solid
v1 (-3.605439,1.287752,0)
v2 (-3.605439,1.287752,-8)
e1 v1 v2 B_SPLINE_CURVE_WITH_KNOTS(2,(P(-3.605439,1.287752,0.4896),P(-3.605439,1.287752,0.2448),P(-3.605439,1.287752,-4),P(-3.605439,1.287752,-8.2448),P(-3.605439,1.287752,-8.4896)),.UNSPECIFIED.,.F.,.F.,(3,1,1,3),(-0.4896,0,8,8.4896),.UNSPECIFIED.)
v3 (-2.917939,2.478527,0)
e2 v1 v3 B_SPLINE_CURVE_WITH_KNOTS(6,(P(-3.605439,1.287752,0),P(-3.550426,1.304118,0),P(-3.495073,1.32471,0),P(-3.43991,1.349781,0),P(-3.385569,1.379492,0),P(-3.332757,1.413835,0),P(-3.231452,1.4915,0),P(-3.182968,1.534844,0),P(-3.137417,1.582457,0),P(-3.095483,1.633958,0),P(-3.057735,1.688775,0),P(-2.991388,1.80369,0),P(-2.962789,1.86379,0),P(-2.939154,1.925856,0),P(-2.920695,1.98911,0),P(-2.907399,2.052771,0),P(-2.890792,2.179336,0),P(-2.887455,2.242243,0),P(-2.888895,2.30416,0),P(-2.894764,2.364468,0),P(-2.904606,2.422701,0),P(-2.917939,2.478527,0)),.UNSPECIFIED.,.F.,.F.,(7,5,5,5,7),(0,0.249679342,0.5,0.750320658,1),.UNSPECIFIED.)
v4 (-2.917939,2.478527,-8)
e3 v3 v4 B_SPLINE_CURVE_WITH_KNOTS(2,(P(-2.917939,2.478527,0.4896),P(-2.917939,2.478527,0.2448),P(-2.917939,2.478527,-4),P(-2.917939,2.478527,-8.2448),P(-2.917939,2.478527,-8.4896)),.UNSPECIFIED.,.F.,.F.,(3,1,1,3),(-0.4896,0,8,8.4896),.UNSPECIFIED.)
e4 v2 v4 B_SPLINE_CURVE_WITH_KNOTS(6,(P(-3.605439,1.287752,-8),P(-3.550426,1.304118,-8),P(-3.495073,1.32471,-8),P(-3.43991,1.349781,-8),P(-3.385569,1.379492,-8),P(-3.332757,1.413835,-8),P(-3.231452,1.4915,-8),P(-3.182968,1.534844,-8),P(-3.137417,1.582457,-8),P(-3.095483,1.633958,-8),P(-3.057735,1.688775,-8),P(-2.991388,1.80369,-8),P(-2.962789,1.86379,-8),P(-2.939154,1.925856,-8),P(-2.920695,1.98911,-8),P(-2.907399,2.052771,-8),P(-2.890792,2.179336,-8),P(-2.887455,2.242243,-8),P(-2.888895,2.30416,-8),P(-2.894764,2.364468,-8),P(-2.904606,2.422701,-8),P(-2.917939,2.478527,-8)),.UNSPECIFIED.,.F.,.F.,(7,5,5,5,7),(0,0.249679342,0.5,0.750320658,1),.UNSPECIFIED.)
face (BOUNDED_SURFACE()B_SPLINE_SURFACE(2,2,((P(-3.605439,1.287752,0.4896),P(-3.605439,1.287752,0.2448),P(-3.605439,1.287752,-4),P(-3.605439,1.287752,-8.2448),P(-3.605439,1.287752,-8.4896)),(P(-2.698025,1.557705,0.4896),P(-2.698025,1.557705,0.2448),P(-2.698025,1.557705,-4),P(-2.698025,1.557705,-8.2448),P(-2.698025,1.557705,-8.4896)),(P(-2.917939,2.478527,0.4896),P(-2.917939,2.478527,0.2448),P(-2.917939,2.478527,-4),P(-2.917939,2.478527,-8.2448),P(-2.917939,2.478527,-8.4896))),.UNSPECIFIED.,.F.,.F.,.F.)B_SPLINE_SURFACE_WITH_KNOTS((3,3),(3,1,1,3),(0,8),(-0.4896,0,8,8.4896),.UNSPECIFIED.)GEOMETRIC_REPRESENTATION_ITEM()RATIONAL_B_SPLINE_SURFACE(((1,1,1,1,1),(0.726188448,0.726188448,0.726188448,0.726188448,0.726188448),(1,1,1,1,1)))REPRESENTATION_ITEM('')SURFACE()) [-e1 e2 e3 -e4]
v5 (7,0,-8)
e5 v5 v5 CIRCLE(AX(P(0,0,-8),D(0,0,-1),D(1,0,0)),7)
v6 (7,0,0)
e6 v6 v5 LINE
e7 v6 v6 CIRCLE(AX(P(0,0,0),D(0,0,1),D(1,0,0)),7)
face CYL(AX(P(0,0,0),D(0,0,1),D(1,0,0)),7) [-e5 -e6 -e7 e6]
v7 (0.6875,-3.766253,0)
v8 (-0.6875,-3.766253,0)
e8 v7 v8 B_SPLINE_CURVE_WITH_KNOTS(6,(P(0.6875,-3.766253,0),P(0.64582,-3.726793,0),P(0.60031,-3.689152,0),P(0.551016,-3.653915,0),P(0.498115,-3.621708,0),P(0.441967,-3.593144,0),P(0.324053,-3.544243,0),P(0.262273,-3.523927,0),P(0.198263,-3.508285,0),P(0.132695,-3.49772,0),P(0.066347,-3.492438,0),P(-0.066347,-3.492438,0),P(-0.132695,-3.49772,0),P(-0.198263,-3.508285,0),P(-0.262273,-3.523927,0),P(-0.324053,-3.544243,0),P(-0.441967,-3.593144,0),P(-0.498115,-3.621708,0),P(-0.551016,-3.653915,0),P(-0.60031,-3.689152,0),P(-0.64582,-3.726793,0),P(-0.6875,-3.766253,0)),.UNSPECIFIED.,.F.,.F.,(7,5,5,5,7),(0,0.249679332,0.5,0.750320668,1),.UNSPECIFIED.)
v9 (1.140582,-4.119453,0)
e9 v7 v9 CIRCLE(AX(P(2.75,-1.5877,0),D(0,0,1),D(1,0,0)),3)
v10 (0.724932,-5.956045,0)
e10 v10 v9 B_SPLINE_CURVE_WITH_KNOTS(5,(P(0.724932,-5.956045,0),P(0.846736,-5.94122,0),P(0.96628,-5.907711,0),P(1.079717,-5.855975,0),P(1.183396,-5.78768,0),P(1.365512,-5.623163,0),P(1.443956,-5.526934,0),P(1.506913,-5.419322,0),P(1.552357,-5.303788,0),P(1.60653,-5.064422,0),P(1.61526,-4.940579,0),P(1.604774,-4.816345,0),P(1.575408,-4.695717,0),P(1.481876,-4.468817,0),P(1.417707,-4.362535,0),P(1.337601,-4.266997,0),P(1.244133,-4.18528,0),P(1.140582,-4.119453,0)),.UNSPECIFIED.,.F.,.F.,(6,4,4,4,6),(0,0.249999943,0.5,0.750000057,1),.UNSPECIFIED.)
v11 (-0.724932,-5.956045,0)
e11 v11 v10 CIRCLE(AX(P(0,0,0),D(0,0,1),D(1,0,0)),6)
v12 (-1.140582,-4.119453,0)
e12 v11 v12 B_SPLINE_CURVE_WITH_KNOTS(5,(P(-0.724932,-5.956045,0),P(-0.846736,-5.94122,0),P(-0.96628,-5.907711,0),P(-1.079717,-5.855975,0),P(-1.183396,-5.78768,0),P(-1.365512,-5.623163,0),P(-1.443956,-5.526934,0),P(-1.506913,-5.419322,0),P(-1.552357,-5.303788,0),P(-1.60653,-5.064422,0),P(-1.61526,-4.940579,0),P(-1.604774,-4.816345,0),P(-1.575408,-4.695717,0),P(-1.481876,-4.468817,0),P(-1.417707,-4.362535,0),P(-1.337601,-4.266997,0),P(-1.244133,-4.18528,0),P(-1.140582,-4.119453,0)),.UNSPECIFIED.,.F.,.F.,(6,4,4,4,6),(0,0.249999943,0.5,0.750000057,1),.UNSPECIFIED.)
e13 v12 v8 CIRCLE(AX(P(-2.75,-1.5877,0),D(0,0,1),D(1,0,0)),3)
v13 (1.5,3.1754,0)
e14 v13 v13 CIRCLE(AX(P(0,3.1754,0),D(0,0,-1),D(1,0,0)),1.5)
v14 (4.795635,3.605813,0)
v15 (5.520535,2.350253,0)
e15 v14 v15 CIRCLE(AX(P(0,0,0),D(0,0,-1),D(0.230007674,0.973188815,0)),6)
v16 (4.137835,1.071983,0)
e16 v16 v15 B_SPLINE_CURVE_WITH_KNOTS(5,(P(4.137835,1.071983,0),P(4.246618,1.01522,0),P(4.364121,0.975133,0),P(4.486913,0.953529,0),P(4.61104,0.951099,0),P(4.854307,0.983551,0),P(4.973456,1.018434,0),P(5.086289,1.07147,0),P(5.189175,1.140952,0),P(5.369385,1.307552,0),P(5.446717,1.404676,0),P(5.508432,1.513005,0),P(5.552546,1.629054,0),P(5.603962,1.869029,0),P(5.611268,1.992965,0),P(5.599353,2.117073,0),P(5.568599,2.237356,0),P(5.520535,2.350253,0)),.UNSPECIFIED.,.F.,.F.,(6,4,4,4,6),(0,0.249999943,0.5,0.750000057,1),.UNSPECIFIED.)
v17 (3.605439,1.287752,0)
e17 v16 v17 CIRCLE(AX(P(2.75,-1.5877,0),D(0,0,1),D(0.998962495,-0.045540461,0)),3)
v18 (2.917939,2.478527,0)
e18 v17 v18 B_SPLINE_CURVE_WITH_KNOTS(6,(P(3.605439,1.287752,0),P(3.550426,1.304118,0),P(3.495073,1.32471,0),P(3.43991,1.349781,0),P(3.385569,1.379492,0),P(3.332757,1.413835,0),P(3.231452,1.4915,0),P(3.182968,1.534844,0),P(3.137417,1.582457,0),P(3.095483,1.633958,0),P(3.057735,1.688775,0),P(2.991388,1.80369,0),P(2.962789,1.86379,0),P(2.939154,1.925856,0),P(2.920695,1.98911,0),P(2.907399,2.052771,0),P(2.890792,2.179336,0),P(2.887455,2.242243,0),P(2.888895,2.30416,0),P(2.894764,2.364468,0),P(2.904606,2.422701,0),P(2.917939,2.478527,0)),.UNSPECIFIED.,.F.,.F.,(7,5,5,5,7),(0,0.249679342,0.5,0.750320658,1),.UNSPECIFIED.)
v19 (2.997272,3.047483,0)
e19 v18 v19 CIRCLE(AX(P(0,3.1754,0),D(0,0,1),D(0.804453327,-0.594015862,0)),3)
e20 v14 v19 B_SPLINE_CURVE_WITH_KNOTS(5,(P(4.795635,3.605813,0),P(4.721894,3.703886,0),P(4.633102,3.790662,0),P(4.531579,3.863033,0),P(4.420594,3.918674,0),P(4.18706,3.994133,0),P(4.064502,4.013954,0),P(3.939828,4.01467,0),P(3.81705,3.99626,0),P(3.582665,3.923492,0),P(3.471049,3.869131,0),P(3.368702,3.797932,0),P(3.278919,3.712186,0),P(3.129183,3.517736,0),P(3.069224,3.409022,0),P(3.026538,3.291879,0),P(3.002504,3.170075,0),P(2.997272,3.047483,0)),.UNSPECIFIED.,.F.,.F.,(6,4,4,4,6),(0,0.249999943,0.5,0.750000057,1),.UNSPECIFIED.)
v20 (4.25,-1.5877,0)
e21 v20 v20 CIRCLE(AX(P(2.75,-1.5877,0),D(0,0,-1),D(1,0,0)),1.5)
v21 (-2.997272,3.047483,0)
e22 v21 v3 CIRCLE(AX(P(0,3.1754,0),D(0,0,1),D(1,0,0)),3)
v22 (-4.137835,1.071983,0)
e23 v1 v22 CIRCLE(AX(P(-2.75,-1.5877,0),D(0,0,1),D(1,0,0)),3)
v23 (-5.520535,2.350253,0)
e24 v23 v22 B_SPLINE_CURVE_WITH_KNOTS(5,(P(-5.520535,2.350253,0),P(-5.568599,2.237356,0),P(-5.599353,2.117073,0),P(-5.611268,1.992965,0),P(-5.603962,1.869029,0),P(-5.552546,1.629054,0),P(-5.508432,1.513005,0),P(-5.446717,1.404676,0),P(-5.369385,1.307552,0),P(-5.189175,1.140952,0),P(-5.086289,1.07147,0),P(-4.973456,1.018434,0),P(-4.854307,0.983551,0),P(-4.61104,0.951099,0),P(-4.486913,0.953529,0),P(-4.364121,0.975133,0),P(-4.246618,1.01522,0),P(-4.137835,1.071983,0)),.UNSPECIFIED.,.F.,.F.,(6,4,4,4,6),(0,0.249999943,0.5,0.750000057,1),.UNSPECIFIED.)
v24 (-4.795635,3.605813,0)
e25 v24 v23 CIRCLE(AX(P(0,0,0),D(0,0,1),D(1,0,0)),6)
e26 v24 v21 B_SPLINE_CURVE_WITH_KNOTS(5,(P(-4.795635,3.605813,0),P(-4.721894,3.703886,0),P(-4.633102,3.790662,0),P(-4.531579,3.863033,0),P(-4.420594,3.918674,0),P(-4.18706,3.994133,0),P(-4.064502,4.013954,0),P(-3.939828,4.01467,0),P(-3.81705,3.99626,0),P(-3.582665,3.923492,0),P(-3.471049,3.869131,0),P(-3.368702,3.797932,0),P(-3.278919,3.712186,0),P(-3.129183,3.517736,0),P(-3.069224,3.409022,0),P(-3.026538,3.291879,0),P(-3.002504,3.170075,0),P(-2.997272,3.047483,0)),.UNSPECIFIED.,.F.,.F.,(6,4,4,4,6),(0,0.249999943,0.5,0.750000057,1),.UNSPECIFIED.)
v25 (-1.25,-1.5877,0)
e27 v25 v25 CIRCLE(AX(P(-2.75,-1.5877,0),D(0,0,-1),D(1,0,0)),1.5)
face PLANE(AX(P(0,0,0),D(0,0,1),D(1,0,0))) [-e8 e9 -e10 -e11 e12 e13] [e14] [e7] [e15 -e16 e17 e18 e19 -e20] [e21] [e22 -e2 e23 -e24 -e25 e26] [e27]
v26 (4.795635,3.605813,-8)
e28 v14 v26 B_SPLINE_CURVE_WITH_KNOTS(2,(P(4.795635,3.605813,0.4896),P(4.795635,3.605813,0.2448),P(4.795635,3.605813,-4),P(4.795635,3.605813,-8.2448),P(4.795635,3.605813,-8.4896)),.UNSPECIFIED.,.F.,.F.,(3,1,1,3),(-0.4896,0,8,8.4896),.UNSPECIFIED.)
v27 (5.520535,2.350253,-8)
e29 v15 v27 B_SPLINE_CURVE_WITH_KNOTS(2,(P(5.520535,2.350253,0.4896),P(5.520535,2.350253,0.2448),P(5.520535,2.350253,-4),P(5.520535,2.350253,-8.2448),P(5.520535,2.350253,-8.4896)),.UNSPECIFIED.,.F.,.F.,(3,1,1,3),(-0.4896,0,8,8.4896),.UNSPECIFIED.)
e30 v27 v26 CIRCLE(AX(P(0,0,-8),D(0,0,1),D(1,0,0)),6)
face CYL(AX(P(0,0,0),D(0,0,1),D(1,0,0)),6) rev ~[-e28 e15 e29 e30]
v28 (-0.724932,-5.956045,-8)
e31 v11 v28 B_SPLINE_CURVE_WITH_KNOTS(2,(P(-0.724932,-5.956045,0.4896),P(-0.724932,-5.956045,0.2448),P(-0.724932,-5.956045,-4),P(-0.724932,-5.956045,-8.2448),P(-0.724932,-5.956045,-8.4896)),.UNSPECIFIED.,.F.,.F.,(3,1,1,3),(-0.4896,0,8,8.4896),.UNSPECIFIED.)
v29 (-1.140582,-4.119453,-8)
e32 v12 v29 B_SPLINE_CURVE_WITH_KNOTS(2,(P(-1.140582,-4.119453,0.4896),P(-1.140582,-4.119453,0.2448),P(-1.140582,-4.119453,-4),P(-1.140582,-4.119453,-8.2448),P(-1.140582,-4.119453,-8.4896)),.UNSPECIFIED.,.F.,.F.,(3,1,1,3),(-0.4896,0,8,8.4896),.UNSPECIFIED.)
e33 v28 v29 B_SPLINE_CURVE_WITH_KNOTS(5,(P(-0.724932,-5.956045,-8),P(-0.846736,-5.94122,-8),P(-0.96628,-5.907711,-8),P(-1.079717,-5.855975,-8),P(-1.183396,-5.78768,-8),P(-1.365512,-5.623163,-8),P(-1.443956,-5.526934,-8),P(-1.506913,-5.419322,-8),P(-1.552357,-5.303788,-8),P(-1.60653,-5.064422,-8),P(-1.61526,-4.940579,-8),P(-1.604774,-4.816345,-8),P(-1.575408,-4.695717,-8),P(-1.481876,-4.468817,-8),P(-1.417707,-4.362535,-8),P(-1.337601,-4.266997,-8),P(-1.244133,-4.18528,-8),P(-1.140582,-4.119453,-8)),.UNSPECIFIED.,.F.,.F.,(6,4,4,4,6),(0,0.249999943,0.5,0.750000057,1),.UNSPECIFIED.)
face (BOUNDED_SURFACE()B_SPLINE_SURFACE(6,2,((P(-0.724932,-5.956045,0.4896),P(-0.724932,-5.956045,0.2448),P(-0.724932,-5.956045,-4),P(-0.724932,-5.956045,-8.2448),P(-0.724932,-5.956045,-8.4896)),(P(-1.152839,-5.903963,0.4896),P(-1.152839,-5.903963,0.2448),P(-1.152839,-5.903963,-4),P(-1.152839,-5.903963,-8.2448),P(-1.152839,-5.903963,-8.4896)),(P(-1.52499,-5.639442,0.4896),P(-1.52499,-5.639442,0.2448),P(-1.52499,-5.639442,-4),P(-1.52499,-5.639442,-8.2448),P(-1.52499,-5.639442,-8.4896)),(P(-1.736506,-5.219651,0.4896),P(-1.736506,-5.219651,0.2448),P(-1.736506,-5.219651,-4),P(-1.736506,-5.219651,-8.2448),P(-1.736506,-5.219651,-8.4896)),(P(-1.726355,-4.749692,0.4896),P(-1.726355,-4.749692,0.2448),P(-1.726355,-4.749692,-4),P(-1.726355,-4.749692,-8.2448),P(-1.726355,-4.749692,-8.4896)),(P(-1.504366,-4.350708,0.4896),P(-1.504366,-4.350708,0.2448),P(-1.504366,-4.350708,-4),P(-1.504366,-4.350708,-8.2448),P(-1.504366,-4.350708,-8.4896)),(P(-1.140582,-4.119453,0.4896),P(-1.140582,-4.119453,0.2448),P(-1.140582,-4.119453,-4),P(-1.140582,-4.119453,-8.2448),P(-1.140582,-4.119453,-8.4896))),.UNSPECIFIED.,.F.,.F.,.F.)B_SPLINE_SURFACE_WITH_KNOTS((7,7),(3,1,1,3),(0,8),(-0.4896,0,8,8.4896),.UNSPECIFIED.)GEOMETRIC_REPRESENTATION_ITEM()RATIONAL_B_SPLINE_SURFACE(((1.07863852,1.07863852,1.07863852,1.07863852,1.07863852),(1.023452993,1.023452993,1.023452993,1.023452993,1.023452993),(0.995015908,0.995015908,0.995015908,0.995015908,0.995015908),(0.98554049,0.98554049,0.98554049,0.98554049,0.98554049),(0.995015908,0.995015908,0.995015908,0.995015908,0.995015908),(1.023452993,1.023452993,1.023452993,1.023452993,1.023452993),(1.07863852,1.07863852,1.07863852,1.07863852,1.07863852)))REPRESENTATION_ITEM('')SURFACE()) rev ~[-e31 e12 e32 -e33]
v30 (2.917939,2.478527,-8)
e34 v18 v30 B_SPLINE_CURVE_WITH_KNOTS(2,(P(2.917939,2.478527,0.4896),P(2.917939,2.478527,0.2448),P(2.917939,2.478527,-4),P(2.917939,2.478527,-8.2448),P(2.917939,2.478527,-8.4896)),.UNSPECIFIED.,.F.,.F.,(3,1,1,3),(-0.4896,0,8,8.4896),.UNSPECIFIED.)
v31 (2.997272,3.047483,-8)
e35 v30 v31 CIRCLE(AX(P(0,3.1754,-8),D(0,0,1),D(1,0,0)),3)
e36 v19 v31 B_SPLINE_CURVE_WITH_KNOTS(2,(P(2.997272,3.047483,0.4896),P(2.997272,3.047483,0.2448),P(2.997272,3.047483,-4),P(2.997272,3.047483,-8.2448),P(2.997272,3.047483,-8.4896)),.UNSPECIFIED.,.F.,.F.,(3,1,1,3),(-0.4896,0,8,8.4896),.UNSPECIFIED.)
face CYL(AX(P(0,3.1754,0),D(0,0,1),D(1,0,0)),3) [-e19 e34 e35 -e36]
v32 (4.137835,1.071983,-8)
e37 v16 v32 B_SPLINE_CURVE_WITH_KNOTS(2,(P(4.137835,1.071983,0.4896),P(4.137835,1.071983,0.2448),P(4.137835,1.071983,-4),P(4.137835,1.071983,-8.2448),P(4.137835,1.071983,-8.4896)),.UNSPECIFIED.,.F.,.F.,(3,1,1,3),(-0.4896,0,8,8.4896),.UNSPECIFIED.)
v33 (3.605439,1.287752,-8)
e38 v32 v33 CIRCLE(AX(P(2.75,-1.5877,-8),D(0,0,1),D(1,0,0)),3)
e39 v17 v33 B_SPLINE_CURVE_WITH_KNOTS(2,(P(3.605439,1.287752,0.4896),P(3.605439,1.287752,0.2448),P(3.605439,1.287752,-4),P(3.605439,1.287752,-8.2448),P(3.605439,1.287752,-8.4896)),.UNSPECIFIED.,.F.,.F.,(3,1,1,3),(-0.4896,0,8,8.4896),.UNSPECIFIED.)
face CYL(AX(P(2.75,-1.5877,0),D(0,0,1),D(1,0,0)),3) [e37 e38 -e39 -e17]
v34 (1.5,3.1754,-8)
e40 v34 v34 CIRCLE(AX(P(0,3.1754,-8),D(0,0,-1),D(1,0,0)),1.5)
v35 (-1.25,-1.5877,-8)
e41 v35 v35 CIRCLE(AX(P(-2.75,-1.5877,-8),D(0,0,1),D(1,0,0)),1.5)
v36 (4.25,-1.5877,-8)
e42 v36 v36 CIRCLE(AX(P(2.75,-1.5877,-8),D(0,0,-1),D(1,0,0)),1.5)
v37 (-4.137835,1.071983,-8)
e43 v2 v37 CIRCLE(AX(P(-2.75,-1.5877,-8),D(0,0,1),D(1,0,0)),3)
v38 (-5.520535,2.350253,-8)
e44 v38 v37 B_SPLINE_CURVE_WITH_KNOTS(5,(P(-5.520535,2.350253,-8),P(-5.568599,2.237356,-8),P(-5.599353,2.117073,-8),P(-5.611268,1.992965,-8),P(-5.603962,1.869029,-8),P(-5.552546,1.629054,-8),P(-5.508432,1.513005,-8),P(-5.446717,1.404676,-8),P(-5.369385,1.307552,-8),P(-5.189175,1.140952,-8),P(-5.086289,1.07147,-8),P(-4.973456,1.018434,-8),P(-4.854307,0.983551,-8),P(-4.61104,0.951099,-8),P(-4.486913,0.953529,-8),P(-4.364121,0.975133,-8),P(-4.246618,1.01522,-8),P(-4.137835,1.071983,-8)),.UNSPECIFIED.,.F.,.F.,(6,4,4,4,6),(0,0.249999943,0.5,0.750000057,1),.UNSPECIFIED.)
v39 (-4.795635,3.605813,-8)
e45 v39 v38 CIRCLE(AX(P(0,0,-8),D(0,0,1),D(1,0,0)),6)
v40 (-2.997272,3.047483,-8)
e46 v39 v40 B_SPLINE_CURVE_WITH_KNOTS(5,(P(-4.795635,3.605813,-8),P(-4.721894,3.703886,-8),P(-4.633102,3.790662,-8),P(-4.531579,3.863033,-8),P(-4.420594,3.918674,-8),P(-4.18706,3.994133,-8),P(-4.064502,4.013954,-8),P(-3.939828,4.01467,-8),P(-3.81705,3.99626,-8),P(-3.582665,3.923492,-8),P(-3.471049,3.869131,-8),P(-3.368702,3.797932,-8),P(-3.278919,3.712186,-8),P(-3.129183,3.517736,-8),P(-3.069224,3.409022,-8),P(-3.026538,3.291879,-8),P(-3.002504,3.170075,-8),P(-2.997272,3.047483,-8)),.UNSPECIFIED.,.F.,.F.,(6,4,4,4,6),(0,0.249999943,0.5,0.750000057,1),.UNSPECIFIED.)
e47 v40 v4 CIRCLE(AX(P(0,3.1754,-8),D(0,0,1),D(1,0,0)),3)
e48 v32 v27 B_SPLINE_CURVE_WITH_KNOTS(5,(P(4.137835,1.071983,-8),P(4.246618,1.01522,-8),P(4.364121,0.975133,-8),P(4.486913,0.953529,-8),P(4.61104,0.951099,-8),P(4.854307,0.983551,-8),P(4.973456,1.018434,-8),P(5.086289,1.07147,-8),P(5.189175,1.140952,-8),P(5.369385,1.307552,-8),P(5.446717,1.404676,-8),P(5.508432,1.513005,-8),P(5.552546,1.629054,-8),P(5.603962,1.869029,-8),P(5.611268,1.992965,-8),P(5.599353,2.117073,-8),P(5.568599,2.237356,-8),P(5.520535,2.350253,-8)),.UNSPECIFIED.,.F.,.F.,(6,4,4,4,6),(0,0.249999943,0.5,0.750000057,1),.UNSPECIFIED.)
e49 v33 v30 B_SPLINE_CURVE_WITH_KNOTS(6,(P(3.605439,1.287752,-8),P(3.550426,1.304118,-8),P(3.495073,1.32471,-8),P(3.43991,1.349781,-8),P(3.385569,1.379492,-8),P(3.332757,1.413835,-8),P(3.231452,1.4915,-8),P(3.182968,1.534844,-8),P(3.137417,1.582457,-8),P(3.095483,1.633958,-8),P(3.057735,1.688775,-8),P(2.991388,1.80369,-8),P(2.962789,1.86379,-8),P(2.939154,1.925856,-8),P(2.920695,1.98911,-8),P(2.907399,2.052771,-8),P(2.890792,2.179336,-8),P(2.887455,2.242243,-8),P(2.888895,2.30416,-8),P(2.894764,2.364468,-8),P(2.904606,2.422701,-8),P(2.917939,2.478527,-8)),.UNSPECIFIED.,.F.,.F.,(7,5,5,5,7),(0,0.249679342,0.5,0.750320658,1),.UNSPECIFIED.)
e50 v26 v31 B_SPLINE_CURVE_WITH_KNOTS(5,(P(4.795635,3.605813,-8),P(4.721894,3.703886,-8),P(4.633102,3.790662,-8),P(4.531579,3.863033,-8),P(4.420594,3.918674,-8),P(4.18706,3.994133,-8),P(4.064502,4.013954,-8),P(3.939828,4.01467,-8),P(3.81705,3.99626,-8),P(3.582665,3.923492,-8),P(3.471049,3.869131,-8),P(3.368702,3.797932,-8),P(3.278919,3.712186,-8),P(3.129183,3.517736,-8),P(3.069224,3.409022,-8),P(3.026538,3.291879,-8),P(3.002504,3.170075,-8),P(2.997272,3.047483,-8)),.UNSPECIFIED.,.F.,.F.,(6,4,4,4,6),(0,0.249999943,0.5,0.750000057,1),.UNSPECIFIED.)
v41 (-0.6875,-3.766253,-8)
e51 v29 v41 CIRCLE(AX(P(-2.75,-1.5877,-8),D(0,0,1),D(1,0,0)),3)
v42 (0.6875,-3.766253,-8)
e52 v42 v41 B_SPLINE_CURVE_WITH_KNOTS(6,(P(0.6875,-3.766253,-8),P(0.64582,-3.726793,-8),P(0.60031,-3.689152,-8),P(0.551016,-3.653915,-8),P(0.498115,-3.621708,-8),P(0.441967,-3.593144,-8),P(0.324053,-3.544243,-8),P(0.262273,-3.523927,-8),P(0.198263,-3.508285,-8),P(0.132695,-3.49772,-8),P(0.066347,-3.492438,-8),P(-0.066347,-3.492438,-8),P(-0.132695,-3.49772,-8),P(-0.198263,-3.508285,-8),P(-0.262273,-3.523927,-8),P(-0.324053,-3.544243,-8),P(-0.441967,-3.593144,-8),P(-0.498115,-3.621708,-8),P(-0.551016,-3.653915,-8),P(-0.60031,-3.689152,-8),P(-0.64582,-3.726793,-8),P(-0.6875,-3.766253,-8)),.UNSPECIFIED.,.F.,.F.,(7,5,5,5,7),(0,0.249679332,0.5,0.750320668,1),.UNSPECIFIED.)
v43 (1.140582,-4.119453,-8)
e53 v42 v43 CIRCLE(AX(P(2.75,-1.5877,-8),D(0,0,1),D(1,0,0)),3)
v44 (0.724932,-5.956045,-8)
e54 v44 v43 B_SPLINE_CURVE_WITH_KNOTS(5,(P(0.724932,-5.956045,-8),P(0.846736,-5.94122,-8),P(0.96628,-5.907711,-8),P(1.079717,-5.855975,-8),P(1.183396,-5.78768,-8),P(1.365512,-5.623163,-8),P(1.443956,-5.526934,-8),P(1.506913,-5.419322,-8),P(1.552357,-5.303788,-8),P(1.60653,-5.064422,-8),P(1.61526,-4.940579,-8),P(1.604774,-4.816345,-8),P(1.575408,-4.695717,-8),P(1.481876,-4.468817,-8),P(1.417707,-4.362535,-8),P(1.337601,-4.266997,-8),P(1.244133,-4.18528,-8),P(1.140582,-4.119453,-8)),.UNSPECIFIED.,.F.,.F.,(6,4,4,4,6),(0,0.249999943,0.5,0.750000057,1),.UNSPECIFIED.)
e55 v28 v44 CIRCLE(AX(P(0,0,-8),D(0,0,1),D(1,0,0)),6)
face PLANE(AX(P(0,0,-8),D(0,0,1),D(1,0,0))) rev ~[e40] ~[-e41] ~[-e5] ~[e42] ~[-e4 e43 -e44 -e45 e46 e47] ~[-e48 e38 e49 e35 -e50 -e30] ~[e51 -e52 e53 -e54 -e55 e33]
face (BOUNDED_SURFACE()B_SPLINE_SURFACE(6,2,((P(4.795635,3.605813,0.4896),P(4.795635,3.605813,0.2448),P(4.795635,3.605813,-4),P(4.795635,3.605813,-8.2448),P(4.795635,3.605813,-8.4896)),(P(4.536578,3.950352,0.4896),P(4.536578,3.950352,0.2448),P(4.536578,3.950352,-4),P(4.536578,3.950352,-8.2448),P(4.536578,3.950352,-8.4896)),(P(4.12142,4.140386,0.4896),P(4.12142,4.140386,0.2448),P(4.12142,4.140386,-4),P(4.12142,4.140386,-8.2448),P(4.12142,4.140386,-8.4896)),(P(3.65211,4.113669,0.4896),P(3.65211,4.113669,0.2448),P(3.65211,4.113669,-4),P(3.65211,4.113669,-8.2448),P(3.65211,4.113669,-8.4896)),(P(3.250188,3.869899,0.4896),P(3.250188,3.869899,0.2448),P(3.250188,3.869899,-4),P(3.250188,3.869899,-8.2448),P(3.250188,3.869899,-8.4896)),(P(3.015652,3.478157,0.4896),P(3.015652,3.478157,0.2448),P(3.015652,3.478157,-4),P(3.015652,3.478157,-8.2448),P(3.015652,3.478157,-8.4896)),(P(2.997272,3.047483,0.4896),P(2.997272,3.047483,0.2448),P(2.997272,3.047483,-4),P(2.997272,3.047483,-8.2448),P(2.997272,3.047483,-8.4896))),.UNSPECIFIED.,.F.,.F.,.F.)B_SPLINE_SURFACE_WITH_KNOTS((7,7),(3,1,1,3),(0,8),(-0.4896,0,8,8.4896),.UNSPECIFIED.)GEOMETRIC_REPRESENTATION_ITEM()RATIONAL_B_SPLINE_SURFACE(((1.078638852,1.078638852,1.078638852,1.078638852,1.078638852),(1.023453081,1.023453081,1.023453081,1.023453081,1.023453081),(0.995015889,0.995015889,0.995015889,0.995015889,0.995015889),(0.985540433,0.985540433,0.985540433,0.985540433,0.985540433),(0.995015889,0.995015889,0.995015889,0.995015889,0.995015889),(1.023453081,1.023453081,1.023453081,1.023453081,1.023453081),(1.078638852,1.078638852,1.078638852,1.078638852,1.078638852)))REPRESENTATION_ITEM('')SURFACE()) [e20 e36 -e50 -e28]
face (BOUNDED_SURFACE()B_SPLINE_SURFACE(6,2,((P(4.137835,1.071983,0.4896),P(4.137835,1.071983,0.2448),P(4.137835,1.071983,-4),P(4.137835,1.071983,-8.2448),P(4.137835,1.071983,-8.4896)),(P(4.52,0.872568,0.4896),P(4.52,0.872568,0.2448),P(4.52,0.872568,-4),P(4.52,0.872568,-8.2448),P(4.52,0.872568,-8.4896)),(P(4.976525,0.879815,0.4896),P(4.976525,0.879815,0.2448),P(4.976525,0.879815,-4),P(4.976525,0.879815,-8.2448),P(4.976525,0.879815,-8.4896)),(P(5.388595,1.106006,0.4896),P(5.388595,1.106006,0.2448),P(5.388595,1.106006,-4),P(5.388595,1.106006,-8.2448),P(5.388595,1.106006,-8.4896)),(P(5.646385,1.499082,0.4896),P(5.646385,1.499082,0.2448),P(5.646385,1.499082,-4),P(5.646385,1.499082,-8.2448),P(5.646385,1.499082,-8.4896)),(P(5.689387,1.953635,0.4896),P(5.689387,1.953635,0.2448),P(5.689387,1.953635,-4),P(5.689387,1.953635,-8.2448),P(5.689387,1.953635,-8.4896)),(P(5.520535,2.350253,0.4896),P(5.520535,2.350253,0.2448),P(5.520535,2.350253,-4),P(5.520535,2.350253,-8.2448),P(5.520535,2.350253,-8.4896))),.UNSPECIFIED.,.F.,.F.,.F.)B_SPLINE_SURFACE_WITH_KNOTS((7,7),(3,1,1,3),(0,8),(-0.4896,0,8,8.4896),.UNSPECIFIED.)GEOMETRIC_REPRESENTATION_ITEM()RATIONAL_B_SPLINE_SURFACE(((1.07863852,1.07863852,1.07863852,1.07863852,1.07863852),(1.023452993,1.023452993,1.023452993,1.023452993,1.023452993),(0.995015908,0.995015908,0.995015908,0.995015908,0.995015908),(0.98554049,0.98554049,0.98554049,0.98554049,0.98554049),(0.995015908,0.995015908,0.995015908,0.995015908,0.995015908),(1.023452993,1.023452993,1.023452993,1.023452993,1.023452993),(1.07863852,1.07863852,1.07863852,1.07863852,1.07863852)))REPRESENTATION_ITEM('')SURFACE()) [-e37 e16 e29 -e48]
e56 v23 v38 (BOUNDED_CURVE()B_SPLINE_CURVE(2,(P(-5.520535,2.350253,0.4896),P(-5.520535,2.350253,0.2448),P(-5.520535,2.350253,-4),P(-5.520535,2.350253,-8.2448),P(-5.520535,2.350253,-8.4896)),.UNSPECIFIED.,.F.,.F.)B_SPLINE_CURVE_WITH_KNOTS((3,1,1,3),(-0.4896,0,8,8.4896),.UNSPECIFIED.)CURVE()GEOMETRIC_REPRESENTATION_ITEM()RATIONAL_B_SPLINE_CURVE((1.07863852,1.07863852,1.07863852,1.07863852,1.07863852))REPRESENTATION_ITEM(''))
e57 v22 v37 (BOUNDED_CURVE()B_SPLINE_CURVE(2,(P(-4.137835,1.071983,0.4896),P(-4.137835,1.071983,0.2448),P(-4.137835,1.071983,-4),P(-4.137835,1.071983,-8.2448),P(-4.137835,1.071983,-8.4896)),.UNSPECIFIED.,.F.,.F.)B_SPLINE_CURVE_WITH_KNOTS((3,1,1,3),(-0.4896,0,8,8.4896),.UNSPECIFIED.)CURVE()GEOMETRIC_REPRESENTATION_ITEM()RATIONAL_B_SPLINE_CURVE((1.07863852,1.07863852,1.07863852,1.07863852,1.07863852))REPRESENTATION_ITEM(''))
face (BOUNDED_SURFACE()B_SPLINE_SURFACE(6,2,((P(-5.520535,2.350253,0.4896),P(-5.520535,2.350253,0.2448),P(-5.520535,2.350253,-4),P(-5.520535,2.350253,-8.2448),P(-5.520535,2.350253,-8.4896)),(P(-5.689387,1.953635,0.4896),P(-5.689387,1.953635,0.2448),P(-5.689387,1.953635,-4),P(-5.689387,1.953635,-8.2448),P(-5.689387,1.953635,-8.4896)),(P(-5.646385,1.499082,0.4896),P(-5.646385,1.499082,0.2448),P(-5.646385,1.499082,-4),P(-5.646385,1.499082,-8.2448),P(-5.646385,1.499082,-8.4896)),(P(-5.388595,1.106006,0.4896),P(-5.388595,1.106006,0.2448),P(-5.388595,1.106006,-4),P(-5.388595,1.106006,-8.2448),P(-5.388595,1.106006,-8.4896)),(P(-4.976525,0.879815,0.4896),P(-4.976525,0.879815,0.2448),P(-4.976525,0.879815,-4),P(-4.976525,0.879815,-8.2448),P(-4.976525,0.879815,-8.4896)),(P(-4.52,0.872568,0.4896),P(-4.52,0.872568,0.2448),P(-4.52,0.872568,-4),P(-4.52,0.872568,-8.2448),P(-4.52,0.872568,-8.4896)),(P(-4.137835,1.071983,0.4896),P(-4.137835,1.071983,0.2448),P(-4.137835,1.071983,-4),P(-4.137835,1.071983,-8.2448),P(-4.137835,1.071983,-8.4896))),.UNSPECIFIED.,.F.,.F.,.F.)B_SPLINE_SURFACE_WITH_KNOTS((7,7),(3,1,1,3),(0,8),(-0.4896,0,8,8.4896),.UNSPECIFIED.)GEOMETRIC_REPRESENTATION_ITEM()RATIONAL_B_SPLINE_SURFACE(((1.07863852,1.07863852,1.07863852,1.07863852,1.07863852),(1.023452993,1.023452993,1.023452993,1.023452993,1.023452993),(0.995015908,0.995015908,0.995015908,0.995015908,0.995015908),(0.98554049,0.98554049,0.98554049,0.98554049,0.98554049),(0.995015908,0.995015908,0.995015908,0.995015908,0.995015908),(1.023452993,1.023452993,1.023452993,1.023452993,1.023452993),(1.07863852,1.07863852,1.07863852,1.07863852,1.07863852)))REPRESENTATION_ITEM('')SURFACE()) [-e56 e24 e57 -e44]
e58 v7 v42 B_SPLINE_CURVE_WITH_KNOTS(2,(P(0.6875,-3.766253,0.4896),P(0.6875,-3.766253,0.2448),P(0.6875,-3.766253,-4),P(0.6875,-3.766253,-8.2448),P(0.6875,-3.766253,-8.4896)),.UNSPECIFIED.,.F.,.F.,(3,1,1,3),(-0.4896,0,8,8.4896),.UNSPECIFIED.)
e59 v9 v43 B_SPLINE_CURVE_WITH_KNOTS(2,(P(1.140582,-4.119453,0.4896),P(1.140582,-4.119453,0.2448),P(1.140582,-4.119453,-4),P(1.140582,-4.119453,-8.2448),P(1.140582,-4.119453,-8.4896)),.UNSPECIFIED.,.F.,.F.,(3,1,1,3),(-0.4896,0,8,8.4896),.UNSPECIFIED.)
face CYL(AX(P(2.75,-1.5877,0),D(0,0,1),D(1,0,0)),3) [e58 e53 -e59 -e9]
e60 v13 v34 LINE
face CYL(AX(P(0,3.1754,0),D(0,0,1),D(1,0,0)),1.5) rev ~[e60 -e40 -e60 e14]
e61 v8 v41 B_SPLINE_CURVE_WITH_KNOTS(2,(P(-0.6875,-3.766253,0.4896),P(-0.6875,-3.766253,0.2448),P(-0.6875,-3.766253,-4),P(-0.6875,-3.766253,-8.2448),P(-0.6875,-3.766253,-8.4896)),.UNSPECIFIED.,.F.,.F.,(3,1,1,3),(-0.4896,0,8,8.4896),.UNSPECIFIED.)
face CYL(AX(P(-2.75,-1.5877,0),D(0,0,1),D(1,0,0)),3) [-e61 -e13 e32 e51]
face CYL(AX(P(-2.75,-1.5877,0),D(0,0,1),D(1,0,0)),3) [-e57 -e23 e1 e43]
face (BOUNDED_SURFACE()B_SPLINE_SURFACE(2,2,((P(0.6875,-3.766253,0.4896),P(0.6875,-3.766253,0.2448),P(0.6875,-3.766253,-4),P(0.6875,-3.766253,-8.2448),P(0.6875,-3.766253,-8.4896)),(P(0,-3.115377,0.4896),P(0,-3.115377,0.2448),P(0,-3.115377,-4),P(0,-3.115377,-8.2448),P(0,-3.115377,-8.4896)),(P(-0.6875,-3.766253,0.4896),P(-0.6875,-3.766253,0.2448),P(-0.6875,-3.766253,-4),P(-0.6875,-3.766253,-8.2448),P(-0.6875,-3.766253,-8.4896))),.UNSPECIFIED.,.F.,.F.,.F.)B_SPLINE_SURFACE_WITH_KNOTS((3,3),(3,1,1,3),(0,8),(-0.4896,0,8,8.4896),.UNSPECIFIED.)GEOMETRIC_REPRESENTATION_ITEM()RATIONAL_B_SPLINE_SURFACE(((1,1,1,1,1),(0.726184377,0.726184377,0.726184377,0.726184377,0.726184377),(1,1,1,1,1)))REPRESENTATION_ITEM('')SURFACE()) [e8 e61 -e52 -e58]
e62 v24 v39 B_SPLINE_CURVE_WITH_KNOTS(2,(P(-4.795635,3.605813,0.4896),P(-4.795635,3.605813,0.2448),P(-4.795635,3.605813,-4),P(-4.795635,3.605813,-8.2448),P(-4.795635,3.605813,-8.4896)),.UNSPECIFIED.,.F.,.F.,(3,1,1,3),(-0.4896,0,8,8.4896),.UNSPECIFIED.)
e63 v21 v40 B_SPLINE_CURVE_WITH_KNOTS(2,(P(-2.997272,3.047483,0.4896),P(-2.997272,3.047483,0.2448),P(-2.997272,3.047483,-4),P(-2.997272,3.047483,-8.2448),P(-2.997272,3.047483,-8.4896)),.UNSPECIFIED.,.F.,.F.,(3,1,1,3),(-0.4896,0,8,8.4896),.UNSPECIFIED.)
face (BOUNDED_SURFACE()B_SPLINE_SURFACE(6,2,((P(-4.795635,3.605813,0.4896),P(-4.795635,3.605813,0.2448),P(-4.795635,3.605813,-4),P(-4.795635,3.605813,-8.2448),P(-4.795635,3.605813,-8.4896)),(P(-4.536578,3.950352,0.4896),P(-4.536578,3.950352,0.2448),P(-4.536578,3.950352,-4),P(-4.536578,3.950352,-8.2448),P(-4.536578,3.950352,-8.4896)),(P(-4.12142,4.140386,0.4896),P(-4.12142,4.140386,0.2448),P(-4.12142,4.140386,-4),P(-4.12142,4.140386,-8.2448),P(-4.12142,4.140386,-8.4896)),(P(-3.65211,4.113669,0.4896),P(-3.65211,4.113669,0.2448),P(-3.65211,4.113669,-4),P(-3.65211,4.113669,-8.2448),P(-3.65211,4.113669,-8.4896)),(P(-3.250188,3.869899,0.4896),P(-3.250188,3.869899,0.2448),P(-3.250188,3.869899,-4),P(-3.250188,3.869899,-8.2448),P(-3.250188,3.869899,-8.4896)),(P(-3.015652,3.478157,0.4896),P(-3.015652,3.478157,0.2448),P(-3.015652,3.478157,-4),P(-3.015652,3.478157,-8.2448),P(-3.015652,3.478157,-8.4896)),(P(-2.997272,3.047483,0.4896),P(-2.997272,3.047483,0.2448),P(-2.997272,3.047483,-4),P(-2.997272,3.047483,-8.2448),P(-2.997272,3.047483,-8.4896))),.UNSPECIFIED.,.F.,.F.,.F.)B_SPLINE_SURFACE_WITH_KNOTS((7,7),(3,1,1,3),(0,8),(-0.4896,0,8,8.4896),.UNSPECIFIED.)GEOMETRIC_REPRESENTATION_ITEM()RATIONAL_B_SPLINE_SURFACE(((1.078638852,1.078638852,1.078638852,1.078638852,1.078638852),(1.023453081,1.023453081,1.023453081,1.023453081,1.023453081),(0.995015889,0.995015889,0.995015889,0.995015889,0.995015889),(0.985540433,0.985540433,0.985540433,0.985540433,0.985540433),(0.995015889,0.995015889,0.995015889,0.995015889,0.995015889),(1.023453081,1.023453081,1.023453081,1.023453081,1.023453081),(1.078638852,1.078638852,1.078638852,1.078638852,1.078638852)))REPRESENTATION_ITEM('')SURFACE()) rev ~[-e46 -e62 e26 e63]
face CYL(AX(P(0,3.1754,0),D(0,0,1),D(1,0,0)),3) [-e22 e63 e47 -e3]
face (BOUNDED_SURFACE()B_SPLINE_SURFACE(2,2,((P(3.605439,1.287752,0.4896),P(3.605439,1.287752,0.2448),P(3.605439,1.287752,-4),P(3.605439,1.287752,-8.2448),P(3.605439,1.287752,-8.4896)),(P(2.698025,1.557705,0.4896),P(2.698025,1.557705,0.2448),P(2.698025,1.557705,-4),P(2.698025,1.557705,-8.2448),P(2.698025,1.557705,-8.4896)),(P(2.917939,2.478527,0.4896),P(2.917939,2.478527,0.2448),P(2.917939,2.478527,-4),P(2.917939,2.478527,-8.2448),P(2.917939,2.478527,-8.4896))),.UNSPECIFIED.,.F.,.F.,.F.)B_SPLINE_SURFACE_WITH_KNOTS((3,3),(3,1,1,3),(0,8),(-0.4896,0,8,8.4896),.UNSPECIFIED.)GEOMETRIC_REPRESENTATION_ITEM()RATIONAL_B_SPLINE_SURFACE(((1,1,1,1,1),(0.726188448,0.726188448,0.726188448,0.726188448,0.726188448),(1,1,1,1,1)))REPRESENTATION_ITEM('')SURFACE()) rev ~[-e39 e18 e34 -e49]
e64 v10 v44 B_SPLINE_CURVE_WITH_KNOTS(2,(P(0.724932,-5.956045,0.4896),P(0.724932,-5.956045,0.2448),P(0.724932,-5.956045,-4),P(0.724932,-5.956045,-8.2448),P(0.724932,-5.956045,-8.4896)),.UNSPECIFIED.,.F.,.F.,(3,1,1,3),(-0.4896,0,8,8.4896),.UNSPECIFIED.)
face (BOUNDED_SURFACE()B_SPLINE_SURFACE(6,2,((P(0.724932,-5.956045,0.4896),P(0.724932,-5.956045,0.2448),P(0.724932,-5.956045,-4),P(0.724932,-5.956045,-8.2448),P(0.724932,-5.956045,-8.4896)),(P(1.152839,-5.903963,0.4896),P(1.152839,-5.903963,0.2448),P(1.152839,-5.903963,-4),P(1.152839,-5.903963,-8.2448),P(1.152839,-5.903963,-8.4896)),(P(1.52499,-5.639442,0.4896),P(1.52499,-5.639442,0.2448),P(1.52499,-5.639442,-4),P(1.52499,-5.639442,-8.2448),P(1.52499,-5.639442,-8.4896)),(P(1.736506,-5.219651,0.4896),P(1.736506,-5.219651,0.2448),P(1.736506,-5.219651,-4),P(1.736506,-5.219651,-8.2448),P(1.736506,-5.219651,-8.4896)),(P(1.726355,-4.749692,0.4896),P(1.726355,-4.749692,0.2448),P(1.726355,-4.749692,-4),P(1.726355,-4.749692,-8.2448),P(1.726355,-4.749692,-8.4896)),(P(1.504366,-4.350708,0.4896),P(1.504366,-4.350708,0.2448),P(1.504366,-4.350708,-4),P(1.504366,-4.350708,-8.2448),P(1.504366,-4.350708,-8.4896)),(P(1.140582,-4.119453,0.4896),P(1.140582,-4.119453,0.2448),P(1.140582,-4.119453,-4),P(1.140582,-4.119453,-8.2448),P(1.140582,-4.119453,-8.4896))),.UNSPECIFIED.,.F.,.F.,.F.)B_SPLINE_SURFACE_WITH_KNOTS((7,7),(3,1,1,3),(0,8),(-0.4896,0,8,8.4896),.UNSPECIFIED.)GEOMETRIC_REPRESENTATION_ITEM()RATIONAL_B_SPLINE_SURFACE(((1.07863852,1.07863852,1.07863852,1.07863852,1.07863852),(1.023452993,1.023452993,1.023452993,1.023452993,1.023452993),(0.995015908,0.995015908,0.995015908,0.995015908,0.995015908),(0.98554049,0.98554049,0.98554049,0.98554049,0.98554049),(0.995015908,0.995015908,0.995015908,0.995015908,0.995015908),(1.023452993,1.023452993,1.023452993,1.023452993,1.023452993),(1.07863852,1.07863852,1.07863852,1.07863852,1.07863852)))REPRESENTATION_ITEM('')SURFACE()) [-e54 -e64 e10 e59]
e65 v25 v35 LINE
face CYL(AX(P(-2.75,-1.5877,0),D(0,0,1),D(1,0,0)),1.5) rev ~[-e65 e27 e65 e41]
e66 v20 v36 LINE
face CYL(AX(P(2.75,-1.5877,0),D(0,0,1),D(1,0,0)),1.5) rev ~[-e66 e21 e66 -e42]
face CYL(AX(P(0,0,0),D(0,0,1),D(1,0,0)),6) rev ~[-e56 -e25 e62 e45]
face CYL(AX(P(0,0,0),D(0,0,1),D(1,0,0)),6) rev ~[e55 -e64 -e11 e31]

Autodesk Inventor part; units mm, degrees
ref_plane "YZ Plane" through (0, 0, 0) normal (1, 0, 0) x (0, 1, 0)
ref_plane "XZ Plane" through (0, 0, 0) normal (0, 1, 0) x (-1, 0, 0)
ref_plane "XY Plane" through (0, 0, 0) normal (0, 0, 1) x (1, 0, 0)
sketch "スケッチ1" plane through (0, 0, 0) normal (0, 0, 1) x (1, 0, 0)
  line L0 (0, 3.1754) -> (2.75, -1.5877)
  line L1 (2.75, -1.5877) -> (-2.75, -1.5877)
  line L2 (-2.75, -1.5877) -> (0, 3.1754)
  circle A0 centre (0, 3.1754) radius 1.5
  circle A1 centre (-2.75, -1.5877) radius 1.5
  circle A2 centre (2.75, -1.5877) radius 1.5
  circle A3 centre (0, 3.1754) radius 4
  circle A4 centre (-2.75, -1.5877) radius 4
  circle A5 centre (2.75, -1.5877) radius 4
  circle A6 centre (0, 0) radius 7.5
  circle A7 centre (0, 0) radius 4.6754
  circle A8 centre (0, 0) radius 7
  dimension "d0" = 3
  dimension "d1" = 3
  dimension "d2" = 3
  dimension "d3" = 2.5
  dimension "d4" = 2.5
  dimension "d5" = 2.5
  dimension "d6" = 15
  dimension "d7" = 2.8246
  dimension "d8" = 14
  dimension "d9" = 2.3246
extrude "押し出し1" add sketch "スケッチ1" against normal blind 8 contours A5 A3 L0 | A5 A4 A0 | A0 A7 A3 A5 | L0 A3 A4 A5 | A4 A5 A3 L2 | A4 A3 A7 A0 | L2 A3 A4 | A3 A5 A7 A2 | A2 A4 A3 | A3 A7 A5 | A4 A3 A5 | A3 A5 A1 | A1 A7 A4 A3 | A7 A3 A8 | A4 A7 A3 | A4 A5 L1 | L1 A5 A3 A4 | A2 A7 A5 A4 | A3 A8 A5 A7 | A5 A8 A7 | A5 A4 A7 A1 | A7 A4 A8 | A7 A4 A8 A3 | A5 A7 A4 | A7 A5 A8 A4
sketch "スケッチ2" plane through (0, 0, 0) normal (0, 0, 1) x (1, 0, 0)
  circle A0 centre (0, 0) radius 7 projected
  circle A1 centre (2.75, -1.5877) radius 1.5 projected
  circle A2 centre (-2.75, -1.5877) radius 1.5 projected
  circle A3 centre (0, 3.1754) radius 1.5 projected
  circle A4 centre (0, 3.1754) radius 4
  circle A5 centre (-2.75, -1.5877) radius 4
  circle A6 centre (2.75, -1.5877) radius 4
  circle A7 centre (0, 0) radius 4.5
  dimension "d12" = 2.5
  dimension "d13" = 2.5
  dimension "d14" = 2.5
  dimension "d15" = 2.5
sketch "スケッチ3" plane through (0, 0, 0) normal (0, 0, 1) x (1, 0, 0)
  circle A0 centre (0, 3.1754) radius 1.5 projected
  circle A1 centre (-2.75, -1.5877) radius 1.5 projected
  circle A2 centre (2.75, -1.5877) radius 1.5 projected
  circle A3 centre (0, 0) radius 7 projected
  circle A4 centre (0, 3.1754) radius 3
  circle A5 centre (-2.75, -1.5877) radius 3
  circle A6 centre (2.75, -1.5877) radius 3
  circle A7 centre (0, 0) radius 7 projected
  circle A8 centre (0, 0) radius 6
  point P0 (-4.3667, -4.1148)
  point P1 (4.3667, -4.1148)
  point P2 (0, -2.7867)
  point P3 (5.7469, -1.7243)
  point P4 (1.3801, 5.8391)
  point P5 (2.4133, 1.3933)
  point P6 (-1.3801, 5.8391)
  point P7 (-5.7469, -1.7243)
  point P8 (-2.4133, 1.3933)
  dimension "d17" = 1
  dimension "d19" = 1.5
  dimension "d20" = 1.5
  dimension "d21" = 1.5
extrude "押し出し2" cut sketch "スケッチ3" against normal blind 10 contours A4 A8 A6 | A4 A5 A8 | A5 A6 A8
fillet "フィレット1" radius 1 9 edges at (-1.3801, 5.8391, -4) (1.3801, 5.8391, -4) (5.7469, -1.7243, -4) (2.4133, 1.3933, -4) (-2.4133, 1.3933, -4) (-5.7469, -1.7243, -4) (-4.3667, -4.1148, -4) (0, -2.7867, -4) (4.3667, -4.1148, -4)
equation "\"d3\" = d4"
equation "\"d5\" = d4"
equation "\"d20\" = d19"
equation "\"d21\" = d19"
properties part number "アーム 小さいカム" material "アルミニウム 2014-T6"
